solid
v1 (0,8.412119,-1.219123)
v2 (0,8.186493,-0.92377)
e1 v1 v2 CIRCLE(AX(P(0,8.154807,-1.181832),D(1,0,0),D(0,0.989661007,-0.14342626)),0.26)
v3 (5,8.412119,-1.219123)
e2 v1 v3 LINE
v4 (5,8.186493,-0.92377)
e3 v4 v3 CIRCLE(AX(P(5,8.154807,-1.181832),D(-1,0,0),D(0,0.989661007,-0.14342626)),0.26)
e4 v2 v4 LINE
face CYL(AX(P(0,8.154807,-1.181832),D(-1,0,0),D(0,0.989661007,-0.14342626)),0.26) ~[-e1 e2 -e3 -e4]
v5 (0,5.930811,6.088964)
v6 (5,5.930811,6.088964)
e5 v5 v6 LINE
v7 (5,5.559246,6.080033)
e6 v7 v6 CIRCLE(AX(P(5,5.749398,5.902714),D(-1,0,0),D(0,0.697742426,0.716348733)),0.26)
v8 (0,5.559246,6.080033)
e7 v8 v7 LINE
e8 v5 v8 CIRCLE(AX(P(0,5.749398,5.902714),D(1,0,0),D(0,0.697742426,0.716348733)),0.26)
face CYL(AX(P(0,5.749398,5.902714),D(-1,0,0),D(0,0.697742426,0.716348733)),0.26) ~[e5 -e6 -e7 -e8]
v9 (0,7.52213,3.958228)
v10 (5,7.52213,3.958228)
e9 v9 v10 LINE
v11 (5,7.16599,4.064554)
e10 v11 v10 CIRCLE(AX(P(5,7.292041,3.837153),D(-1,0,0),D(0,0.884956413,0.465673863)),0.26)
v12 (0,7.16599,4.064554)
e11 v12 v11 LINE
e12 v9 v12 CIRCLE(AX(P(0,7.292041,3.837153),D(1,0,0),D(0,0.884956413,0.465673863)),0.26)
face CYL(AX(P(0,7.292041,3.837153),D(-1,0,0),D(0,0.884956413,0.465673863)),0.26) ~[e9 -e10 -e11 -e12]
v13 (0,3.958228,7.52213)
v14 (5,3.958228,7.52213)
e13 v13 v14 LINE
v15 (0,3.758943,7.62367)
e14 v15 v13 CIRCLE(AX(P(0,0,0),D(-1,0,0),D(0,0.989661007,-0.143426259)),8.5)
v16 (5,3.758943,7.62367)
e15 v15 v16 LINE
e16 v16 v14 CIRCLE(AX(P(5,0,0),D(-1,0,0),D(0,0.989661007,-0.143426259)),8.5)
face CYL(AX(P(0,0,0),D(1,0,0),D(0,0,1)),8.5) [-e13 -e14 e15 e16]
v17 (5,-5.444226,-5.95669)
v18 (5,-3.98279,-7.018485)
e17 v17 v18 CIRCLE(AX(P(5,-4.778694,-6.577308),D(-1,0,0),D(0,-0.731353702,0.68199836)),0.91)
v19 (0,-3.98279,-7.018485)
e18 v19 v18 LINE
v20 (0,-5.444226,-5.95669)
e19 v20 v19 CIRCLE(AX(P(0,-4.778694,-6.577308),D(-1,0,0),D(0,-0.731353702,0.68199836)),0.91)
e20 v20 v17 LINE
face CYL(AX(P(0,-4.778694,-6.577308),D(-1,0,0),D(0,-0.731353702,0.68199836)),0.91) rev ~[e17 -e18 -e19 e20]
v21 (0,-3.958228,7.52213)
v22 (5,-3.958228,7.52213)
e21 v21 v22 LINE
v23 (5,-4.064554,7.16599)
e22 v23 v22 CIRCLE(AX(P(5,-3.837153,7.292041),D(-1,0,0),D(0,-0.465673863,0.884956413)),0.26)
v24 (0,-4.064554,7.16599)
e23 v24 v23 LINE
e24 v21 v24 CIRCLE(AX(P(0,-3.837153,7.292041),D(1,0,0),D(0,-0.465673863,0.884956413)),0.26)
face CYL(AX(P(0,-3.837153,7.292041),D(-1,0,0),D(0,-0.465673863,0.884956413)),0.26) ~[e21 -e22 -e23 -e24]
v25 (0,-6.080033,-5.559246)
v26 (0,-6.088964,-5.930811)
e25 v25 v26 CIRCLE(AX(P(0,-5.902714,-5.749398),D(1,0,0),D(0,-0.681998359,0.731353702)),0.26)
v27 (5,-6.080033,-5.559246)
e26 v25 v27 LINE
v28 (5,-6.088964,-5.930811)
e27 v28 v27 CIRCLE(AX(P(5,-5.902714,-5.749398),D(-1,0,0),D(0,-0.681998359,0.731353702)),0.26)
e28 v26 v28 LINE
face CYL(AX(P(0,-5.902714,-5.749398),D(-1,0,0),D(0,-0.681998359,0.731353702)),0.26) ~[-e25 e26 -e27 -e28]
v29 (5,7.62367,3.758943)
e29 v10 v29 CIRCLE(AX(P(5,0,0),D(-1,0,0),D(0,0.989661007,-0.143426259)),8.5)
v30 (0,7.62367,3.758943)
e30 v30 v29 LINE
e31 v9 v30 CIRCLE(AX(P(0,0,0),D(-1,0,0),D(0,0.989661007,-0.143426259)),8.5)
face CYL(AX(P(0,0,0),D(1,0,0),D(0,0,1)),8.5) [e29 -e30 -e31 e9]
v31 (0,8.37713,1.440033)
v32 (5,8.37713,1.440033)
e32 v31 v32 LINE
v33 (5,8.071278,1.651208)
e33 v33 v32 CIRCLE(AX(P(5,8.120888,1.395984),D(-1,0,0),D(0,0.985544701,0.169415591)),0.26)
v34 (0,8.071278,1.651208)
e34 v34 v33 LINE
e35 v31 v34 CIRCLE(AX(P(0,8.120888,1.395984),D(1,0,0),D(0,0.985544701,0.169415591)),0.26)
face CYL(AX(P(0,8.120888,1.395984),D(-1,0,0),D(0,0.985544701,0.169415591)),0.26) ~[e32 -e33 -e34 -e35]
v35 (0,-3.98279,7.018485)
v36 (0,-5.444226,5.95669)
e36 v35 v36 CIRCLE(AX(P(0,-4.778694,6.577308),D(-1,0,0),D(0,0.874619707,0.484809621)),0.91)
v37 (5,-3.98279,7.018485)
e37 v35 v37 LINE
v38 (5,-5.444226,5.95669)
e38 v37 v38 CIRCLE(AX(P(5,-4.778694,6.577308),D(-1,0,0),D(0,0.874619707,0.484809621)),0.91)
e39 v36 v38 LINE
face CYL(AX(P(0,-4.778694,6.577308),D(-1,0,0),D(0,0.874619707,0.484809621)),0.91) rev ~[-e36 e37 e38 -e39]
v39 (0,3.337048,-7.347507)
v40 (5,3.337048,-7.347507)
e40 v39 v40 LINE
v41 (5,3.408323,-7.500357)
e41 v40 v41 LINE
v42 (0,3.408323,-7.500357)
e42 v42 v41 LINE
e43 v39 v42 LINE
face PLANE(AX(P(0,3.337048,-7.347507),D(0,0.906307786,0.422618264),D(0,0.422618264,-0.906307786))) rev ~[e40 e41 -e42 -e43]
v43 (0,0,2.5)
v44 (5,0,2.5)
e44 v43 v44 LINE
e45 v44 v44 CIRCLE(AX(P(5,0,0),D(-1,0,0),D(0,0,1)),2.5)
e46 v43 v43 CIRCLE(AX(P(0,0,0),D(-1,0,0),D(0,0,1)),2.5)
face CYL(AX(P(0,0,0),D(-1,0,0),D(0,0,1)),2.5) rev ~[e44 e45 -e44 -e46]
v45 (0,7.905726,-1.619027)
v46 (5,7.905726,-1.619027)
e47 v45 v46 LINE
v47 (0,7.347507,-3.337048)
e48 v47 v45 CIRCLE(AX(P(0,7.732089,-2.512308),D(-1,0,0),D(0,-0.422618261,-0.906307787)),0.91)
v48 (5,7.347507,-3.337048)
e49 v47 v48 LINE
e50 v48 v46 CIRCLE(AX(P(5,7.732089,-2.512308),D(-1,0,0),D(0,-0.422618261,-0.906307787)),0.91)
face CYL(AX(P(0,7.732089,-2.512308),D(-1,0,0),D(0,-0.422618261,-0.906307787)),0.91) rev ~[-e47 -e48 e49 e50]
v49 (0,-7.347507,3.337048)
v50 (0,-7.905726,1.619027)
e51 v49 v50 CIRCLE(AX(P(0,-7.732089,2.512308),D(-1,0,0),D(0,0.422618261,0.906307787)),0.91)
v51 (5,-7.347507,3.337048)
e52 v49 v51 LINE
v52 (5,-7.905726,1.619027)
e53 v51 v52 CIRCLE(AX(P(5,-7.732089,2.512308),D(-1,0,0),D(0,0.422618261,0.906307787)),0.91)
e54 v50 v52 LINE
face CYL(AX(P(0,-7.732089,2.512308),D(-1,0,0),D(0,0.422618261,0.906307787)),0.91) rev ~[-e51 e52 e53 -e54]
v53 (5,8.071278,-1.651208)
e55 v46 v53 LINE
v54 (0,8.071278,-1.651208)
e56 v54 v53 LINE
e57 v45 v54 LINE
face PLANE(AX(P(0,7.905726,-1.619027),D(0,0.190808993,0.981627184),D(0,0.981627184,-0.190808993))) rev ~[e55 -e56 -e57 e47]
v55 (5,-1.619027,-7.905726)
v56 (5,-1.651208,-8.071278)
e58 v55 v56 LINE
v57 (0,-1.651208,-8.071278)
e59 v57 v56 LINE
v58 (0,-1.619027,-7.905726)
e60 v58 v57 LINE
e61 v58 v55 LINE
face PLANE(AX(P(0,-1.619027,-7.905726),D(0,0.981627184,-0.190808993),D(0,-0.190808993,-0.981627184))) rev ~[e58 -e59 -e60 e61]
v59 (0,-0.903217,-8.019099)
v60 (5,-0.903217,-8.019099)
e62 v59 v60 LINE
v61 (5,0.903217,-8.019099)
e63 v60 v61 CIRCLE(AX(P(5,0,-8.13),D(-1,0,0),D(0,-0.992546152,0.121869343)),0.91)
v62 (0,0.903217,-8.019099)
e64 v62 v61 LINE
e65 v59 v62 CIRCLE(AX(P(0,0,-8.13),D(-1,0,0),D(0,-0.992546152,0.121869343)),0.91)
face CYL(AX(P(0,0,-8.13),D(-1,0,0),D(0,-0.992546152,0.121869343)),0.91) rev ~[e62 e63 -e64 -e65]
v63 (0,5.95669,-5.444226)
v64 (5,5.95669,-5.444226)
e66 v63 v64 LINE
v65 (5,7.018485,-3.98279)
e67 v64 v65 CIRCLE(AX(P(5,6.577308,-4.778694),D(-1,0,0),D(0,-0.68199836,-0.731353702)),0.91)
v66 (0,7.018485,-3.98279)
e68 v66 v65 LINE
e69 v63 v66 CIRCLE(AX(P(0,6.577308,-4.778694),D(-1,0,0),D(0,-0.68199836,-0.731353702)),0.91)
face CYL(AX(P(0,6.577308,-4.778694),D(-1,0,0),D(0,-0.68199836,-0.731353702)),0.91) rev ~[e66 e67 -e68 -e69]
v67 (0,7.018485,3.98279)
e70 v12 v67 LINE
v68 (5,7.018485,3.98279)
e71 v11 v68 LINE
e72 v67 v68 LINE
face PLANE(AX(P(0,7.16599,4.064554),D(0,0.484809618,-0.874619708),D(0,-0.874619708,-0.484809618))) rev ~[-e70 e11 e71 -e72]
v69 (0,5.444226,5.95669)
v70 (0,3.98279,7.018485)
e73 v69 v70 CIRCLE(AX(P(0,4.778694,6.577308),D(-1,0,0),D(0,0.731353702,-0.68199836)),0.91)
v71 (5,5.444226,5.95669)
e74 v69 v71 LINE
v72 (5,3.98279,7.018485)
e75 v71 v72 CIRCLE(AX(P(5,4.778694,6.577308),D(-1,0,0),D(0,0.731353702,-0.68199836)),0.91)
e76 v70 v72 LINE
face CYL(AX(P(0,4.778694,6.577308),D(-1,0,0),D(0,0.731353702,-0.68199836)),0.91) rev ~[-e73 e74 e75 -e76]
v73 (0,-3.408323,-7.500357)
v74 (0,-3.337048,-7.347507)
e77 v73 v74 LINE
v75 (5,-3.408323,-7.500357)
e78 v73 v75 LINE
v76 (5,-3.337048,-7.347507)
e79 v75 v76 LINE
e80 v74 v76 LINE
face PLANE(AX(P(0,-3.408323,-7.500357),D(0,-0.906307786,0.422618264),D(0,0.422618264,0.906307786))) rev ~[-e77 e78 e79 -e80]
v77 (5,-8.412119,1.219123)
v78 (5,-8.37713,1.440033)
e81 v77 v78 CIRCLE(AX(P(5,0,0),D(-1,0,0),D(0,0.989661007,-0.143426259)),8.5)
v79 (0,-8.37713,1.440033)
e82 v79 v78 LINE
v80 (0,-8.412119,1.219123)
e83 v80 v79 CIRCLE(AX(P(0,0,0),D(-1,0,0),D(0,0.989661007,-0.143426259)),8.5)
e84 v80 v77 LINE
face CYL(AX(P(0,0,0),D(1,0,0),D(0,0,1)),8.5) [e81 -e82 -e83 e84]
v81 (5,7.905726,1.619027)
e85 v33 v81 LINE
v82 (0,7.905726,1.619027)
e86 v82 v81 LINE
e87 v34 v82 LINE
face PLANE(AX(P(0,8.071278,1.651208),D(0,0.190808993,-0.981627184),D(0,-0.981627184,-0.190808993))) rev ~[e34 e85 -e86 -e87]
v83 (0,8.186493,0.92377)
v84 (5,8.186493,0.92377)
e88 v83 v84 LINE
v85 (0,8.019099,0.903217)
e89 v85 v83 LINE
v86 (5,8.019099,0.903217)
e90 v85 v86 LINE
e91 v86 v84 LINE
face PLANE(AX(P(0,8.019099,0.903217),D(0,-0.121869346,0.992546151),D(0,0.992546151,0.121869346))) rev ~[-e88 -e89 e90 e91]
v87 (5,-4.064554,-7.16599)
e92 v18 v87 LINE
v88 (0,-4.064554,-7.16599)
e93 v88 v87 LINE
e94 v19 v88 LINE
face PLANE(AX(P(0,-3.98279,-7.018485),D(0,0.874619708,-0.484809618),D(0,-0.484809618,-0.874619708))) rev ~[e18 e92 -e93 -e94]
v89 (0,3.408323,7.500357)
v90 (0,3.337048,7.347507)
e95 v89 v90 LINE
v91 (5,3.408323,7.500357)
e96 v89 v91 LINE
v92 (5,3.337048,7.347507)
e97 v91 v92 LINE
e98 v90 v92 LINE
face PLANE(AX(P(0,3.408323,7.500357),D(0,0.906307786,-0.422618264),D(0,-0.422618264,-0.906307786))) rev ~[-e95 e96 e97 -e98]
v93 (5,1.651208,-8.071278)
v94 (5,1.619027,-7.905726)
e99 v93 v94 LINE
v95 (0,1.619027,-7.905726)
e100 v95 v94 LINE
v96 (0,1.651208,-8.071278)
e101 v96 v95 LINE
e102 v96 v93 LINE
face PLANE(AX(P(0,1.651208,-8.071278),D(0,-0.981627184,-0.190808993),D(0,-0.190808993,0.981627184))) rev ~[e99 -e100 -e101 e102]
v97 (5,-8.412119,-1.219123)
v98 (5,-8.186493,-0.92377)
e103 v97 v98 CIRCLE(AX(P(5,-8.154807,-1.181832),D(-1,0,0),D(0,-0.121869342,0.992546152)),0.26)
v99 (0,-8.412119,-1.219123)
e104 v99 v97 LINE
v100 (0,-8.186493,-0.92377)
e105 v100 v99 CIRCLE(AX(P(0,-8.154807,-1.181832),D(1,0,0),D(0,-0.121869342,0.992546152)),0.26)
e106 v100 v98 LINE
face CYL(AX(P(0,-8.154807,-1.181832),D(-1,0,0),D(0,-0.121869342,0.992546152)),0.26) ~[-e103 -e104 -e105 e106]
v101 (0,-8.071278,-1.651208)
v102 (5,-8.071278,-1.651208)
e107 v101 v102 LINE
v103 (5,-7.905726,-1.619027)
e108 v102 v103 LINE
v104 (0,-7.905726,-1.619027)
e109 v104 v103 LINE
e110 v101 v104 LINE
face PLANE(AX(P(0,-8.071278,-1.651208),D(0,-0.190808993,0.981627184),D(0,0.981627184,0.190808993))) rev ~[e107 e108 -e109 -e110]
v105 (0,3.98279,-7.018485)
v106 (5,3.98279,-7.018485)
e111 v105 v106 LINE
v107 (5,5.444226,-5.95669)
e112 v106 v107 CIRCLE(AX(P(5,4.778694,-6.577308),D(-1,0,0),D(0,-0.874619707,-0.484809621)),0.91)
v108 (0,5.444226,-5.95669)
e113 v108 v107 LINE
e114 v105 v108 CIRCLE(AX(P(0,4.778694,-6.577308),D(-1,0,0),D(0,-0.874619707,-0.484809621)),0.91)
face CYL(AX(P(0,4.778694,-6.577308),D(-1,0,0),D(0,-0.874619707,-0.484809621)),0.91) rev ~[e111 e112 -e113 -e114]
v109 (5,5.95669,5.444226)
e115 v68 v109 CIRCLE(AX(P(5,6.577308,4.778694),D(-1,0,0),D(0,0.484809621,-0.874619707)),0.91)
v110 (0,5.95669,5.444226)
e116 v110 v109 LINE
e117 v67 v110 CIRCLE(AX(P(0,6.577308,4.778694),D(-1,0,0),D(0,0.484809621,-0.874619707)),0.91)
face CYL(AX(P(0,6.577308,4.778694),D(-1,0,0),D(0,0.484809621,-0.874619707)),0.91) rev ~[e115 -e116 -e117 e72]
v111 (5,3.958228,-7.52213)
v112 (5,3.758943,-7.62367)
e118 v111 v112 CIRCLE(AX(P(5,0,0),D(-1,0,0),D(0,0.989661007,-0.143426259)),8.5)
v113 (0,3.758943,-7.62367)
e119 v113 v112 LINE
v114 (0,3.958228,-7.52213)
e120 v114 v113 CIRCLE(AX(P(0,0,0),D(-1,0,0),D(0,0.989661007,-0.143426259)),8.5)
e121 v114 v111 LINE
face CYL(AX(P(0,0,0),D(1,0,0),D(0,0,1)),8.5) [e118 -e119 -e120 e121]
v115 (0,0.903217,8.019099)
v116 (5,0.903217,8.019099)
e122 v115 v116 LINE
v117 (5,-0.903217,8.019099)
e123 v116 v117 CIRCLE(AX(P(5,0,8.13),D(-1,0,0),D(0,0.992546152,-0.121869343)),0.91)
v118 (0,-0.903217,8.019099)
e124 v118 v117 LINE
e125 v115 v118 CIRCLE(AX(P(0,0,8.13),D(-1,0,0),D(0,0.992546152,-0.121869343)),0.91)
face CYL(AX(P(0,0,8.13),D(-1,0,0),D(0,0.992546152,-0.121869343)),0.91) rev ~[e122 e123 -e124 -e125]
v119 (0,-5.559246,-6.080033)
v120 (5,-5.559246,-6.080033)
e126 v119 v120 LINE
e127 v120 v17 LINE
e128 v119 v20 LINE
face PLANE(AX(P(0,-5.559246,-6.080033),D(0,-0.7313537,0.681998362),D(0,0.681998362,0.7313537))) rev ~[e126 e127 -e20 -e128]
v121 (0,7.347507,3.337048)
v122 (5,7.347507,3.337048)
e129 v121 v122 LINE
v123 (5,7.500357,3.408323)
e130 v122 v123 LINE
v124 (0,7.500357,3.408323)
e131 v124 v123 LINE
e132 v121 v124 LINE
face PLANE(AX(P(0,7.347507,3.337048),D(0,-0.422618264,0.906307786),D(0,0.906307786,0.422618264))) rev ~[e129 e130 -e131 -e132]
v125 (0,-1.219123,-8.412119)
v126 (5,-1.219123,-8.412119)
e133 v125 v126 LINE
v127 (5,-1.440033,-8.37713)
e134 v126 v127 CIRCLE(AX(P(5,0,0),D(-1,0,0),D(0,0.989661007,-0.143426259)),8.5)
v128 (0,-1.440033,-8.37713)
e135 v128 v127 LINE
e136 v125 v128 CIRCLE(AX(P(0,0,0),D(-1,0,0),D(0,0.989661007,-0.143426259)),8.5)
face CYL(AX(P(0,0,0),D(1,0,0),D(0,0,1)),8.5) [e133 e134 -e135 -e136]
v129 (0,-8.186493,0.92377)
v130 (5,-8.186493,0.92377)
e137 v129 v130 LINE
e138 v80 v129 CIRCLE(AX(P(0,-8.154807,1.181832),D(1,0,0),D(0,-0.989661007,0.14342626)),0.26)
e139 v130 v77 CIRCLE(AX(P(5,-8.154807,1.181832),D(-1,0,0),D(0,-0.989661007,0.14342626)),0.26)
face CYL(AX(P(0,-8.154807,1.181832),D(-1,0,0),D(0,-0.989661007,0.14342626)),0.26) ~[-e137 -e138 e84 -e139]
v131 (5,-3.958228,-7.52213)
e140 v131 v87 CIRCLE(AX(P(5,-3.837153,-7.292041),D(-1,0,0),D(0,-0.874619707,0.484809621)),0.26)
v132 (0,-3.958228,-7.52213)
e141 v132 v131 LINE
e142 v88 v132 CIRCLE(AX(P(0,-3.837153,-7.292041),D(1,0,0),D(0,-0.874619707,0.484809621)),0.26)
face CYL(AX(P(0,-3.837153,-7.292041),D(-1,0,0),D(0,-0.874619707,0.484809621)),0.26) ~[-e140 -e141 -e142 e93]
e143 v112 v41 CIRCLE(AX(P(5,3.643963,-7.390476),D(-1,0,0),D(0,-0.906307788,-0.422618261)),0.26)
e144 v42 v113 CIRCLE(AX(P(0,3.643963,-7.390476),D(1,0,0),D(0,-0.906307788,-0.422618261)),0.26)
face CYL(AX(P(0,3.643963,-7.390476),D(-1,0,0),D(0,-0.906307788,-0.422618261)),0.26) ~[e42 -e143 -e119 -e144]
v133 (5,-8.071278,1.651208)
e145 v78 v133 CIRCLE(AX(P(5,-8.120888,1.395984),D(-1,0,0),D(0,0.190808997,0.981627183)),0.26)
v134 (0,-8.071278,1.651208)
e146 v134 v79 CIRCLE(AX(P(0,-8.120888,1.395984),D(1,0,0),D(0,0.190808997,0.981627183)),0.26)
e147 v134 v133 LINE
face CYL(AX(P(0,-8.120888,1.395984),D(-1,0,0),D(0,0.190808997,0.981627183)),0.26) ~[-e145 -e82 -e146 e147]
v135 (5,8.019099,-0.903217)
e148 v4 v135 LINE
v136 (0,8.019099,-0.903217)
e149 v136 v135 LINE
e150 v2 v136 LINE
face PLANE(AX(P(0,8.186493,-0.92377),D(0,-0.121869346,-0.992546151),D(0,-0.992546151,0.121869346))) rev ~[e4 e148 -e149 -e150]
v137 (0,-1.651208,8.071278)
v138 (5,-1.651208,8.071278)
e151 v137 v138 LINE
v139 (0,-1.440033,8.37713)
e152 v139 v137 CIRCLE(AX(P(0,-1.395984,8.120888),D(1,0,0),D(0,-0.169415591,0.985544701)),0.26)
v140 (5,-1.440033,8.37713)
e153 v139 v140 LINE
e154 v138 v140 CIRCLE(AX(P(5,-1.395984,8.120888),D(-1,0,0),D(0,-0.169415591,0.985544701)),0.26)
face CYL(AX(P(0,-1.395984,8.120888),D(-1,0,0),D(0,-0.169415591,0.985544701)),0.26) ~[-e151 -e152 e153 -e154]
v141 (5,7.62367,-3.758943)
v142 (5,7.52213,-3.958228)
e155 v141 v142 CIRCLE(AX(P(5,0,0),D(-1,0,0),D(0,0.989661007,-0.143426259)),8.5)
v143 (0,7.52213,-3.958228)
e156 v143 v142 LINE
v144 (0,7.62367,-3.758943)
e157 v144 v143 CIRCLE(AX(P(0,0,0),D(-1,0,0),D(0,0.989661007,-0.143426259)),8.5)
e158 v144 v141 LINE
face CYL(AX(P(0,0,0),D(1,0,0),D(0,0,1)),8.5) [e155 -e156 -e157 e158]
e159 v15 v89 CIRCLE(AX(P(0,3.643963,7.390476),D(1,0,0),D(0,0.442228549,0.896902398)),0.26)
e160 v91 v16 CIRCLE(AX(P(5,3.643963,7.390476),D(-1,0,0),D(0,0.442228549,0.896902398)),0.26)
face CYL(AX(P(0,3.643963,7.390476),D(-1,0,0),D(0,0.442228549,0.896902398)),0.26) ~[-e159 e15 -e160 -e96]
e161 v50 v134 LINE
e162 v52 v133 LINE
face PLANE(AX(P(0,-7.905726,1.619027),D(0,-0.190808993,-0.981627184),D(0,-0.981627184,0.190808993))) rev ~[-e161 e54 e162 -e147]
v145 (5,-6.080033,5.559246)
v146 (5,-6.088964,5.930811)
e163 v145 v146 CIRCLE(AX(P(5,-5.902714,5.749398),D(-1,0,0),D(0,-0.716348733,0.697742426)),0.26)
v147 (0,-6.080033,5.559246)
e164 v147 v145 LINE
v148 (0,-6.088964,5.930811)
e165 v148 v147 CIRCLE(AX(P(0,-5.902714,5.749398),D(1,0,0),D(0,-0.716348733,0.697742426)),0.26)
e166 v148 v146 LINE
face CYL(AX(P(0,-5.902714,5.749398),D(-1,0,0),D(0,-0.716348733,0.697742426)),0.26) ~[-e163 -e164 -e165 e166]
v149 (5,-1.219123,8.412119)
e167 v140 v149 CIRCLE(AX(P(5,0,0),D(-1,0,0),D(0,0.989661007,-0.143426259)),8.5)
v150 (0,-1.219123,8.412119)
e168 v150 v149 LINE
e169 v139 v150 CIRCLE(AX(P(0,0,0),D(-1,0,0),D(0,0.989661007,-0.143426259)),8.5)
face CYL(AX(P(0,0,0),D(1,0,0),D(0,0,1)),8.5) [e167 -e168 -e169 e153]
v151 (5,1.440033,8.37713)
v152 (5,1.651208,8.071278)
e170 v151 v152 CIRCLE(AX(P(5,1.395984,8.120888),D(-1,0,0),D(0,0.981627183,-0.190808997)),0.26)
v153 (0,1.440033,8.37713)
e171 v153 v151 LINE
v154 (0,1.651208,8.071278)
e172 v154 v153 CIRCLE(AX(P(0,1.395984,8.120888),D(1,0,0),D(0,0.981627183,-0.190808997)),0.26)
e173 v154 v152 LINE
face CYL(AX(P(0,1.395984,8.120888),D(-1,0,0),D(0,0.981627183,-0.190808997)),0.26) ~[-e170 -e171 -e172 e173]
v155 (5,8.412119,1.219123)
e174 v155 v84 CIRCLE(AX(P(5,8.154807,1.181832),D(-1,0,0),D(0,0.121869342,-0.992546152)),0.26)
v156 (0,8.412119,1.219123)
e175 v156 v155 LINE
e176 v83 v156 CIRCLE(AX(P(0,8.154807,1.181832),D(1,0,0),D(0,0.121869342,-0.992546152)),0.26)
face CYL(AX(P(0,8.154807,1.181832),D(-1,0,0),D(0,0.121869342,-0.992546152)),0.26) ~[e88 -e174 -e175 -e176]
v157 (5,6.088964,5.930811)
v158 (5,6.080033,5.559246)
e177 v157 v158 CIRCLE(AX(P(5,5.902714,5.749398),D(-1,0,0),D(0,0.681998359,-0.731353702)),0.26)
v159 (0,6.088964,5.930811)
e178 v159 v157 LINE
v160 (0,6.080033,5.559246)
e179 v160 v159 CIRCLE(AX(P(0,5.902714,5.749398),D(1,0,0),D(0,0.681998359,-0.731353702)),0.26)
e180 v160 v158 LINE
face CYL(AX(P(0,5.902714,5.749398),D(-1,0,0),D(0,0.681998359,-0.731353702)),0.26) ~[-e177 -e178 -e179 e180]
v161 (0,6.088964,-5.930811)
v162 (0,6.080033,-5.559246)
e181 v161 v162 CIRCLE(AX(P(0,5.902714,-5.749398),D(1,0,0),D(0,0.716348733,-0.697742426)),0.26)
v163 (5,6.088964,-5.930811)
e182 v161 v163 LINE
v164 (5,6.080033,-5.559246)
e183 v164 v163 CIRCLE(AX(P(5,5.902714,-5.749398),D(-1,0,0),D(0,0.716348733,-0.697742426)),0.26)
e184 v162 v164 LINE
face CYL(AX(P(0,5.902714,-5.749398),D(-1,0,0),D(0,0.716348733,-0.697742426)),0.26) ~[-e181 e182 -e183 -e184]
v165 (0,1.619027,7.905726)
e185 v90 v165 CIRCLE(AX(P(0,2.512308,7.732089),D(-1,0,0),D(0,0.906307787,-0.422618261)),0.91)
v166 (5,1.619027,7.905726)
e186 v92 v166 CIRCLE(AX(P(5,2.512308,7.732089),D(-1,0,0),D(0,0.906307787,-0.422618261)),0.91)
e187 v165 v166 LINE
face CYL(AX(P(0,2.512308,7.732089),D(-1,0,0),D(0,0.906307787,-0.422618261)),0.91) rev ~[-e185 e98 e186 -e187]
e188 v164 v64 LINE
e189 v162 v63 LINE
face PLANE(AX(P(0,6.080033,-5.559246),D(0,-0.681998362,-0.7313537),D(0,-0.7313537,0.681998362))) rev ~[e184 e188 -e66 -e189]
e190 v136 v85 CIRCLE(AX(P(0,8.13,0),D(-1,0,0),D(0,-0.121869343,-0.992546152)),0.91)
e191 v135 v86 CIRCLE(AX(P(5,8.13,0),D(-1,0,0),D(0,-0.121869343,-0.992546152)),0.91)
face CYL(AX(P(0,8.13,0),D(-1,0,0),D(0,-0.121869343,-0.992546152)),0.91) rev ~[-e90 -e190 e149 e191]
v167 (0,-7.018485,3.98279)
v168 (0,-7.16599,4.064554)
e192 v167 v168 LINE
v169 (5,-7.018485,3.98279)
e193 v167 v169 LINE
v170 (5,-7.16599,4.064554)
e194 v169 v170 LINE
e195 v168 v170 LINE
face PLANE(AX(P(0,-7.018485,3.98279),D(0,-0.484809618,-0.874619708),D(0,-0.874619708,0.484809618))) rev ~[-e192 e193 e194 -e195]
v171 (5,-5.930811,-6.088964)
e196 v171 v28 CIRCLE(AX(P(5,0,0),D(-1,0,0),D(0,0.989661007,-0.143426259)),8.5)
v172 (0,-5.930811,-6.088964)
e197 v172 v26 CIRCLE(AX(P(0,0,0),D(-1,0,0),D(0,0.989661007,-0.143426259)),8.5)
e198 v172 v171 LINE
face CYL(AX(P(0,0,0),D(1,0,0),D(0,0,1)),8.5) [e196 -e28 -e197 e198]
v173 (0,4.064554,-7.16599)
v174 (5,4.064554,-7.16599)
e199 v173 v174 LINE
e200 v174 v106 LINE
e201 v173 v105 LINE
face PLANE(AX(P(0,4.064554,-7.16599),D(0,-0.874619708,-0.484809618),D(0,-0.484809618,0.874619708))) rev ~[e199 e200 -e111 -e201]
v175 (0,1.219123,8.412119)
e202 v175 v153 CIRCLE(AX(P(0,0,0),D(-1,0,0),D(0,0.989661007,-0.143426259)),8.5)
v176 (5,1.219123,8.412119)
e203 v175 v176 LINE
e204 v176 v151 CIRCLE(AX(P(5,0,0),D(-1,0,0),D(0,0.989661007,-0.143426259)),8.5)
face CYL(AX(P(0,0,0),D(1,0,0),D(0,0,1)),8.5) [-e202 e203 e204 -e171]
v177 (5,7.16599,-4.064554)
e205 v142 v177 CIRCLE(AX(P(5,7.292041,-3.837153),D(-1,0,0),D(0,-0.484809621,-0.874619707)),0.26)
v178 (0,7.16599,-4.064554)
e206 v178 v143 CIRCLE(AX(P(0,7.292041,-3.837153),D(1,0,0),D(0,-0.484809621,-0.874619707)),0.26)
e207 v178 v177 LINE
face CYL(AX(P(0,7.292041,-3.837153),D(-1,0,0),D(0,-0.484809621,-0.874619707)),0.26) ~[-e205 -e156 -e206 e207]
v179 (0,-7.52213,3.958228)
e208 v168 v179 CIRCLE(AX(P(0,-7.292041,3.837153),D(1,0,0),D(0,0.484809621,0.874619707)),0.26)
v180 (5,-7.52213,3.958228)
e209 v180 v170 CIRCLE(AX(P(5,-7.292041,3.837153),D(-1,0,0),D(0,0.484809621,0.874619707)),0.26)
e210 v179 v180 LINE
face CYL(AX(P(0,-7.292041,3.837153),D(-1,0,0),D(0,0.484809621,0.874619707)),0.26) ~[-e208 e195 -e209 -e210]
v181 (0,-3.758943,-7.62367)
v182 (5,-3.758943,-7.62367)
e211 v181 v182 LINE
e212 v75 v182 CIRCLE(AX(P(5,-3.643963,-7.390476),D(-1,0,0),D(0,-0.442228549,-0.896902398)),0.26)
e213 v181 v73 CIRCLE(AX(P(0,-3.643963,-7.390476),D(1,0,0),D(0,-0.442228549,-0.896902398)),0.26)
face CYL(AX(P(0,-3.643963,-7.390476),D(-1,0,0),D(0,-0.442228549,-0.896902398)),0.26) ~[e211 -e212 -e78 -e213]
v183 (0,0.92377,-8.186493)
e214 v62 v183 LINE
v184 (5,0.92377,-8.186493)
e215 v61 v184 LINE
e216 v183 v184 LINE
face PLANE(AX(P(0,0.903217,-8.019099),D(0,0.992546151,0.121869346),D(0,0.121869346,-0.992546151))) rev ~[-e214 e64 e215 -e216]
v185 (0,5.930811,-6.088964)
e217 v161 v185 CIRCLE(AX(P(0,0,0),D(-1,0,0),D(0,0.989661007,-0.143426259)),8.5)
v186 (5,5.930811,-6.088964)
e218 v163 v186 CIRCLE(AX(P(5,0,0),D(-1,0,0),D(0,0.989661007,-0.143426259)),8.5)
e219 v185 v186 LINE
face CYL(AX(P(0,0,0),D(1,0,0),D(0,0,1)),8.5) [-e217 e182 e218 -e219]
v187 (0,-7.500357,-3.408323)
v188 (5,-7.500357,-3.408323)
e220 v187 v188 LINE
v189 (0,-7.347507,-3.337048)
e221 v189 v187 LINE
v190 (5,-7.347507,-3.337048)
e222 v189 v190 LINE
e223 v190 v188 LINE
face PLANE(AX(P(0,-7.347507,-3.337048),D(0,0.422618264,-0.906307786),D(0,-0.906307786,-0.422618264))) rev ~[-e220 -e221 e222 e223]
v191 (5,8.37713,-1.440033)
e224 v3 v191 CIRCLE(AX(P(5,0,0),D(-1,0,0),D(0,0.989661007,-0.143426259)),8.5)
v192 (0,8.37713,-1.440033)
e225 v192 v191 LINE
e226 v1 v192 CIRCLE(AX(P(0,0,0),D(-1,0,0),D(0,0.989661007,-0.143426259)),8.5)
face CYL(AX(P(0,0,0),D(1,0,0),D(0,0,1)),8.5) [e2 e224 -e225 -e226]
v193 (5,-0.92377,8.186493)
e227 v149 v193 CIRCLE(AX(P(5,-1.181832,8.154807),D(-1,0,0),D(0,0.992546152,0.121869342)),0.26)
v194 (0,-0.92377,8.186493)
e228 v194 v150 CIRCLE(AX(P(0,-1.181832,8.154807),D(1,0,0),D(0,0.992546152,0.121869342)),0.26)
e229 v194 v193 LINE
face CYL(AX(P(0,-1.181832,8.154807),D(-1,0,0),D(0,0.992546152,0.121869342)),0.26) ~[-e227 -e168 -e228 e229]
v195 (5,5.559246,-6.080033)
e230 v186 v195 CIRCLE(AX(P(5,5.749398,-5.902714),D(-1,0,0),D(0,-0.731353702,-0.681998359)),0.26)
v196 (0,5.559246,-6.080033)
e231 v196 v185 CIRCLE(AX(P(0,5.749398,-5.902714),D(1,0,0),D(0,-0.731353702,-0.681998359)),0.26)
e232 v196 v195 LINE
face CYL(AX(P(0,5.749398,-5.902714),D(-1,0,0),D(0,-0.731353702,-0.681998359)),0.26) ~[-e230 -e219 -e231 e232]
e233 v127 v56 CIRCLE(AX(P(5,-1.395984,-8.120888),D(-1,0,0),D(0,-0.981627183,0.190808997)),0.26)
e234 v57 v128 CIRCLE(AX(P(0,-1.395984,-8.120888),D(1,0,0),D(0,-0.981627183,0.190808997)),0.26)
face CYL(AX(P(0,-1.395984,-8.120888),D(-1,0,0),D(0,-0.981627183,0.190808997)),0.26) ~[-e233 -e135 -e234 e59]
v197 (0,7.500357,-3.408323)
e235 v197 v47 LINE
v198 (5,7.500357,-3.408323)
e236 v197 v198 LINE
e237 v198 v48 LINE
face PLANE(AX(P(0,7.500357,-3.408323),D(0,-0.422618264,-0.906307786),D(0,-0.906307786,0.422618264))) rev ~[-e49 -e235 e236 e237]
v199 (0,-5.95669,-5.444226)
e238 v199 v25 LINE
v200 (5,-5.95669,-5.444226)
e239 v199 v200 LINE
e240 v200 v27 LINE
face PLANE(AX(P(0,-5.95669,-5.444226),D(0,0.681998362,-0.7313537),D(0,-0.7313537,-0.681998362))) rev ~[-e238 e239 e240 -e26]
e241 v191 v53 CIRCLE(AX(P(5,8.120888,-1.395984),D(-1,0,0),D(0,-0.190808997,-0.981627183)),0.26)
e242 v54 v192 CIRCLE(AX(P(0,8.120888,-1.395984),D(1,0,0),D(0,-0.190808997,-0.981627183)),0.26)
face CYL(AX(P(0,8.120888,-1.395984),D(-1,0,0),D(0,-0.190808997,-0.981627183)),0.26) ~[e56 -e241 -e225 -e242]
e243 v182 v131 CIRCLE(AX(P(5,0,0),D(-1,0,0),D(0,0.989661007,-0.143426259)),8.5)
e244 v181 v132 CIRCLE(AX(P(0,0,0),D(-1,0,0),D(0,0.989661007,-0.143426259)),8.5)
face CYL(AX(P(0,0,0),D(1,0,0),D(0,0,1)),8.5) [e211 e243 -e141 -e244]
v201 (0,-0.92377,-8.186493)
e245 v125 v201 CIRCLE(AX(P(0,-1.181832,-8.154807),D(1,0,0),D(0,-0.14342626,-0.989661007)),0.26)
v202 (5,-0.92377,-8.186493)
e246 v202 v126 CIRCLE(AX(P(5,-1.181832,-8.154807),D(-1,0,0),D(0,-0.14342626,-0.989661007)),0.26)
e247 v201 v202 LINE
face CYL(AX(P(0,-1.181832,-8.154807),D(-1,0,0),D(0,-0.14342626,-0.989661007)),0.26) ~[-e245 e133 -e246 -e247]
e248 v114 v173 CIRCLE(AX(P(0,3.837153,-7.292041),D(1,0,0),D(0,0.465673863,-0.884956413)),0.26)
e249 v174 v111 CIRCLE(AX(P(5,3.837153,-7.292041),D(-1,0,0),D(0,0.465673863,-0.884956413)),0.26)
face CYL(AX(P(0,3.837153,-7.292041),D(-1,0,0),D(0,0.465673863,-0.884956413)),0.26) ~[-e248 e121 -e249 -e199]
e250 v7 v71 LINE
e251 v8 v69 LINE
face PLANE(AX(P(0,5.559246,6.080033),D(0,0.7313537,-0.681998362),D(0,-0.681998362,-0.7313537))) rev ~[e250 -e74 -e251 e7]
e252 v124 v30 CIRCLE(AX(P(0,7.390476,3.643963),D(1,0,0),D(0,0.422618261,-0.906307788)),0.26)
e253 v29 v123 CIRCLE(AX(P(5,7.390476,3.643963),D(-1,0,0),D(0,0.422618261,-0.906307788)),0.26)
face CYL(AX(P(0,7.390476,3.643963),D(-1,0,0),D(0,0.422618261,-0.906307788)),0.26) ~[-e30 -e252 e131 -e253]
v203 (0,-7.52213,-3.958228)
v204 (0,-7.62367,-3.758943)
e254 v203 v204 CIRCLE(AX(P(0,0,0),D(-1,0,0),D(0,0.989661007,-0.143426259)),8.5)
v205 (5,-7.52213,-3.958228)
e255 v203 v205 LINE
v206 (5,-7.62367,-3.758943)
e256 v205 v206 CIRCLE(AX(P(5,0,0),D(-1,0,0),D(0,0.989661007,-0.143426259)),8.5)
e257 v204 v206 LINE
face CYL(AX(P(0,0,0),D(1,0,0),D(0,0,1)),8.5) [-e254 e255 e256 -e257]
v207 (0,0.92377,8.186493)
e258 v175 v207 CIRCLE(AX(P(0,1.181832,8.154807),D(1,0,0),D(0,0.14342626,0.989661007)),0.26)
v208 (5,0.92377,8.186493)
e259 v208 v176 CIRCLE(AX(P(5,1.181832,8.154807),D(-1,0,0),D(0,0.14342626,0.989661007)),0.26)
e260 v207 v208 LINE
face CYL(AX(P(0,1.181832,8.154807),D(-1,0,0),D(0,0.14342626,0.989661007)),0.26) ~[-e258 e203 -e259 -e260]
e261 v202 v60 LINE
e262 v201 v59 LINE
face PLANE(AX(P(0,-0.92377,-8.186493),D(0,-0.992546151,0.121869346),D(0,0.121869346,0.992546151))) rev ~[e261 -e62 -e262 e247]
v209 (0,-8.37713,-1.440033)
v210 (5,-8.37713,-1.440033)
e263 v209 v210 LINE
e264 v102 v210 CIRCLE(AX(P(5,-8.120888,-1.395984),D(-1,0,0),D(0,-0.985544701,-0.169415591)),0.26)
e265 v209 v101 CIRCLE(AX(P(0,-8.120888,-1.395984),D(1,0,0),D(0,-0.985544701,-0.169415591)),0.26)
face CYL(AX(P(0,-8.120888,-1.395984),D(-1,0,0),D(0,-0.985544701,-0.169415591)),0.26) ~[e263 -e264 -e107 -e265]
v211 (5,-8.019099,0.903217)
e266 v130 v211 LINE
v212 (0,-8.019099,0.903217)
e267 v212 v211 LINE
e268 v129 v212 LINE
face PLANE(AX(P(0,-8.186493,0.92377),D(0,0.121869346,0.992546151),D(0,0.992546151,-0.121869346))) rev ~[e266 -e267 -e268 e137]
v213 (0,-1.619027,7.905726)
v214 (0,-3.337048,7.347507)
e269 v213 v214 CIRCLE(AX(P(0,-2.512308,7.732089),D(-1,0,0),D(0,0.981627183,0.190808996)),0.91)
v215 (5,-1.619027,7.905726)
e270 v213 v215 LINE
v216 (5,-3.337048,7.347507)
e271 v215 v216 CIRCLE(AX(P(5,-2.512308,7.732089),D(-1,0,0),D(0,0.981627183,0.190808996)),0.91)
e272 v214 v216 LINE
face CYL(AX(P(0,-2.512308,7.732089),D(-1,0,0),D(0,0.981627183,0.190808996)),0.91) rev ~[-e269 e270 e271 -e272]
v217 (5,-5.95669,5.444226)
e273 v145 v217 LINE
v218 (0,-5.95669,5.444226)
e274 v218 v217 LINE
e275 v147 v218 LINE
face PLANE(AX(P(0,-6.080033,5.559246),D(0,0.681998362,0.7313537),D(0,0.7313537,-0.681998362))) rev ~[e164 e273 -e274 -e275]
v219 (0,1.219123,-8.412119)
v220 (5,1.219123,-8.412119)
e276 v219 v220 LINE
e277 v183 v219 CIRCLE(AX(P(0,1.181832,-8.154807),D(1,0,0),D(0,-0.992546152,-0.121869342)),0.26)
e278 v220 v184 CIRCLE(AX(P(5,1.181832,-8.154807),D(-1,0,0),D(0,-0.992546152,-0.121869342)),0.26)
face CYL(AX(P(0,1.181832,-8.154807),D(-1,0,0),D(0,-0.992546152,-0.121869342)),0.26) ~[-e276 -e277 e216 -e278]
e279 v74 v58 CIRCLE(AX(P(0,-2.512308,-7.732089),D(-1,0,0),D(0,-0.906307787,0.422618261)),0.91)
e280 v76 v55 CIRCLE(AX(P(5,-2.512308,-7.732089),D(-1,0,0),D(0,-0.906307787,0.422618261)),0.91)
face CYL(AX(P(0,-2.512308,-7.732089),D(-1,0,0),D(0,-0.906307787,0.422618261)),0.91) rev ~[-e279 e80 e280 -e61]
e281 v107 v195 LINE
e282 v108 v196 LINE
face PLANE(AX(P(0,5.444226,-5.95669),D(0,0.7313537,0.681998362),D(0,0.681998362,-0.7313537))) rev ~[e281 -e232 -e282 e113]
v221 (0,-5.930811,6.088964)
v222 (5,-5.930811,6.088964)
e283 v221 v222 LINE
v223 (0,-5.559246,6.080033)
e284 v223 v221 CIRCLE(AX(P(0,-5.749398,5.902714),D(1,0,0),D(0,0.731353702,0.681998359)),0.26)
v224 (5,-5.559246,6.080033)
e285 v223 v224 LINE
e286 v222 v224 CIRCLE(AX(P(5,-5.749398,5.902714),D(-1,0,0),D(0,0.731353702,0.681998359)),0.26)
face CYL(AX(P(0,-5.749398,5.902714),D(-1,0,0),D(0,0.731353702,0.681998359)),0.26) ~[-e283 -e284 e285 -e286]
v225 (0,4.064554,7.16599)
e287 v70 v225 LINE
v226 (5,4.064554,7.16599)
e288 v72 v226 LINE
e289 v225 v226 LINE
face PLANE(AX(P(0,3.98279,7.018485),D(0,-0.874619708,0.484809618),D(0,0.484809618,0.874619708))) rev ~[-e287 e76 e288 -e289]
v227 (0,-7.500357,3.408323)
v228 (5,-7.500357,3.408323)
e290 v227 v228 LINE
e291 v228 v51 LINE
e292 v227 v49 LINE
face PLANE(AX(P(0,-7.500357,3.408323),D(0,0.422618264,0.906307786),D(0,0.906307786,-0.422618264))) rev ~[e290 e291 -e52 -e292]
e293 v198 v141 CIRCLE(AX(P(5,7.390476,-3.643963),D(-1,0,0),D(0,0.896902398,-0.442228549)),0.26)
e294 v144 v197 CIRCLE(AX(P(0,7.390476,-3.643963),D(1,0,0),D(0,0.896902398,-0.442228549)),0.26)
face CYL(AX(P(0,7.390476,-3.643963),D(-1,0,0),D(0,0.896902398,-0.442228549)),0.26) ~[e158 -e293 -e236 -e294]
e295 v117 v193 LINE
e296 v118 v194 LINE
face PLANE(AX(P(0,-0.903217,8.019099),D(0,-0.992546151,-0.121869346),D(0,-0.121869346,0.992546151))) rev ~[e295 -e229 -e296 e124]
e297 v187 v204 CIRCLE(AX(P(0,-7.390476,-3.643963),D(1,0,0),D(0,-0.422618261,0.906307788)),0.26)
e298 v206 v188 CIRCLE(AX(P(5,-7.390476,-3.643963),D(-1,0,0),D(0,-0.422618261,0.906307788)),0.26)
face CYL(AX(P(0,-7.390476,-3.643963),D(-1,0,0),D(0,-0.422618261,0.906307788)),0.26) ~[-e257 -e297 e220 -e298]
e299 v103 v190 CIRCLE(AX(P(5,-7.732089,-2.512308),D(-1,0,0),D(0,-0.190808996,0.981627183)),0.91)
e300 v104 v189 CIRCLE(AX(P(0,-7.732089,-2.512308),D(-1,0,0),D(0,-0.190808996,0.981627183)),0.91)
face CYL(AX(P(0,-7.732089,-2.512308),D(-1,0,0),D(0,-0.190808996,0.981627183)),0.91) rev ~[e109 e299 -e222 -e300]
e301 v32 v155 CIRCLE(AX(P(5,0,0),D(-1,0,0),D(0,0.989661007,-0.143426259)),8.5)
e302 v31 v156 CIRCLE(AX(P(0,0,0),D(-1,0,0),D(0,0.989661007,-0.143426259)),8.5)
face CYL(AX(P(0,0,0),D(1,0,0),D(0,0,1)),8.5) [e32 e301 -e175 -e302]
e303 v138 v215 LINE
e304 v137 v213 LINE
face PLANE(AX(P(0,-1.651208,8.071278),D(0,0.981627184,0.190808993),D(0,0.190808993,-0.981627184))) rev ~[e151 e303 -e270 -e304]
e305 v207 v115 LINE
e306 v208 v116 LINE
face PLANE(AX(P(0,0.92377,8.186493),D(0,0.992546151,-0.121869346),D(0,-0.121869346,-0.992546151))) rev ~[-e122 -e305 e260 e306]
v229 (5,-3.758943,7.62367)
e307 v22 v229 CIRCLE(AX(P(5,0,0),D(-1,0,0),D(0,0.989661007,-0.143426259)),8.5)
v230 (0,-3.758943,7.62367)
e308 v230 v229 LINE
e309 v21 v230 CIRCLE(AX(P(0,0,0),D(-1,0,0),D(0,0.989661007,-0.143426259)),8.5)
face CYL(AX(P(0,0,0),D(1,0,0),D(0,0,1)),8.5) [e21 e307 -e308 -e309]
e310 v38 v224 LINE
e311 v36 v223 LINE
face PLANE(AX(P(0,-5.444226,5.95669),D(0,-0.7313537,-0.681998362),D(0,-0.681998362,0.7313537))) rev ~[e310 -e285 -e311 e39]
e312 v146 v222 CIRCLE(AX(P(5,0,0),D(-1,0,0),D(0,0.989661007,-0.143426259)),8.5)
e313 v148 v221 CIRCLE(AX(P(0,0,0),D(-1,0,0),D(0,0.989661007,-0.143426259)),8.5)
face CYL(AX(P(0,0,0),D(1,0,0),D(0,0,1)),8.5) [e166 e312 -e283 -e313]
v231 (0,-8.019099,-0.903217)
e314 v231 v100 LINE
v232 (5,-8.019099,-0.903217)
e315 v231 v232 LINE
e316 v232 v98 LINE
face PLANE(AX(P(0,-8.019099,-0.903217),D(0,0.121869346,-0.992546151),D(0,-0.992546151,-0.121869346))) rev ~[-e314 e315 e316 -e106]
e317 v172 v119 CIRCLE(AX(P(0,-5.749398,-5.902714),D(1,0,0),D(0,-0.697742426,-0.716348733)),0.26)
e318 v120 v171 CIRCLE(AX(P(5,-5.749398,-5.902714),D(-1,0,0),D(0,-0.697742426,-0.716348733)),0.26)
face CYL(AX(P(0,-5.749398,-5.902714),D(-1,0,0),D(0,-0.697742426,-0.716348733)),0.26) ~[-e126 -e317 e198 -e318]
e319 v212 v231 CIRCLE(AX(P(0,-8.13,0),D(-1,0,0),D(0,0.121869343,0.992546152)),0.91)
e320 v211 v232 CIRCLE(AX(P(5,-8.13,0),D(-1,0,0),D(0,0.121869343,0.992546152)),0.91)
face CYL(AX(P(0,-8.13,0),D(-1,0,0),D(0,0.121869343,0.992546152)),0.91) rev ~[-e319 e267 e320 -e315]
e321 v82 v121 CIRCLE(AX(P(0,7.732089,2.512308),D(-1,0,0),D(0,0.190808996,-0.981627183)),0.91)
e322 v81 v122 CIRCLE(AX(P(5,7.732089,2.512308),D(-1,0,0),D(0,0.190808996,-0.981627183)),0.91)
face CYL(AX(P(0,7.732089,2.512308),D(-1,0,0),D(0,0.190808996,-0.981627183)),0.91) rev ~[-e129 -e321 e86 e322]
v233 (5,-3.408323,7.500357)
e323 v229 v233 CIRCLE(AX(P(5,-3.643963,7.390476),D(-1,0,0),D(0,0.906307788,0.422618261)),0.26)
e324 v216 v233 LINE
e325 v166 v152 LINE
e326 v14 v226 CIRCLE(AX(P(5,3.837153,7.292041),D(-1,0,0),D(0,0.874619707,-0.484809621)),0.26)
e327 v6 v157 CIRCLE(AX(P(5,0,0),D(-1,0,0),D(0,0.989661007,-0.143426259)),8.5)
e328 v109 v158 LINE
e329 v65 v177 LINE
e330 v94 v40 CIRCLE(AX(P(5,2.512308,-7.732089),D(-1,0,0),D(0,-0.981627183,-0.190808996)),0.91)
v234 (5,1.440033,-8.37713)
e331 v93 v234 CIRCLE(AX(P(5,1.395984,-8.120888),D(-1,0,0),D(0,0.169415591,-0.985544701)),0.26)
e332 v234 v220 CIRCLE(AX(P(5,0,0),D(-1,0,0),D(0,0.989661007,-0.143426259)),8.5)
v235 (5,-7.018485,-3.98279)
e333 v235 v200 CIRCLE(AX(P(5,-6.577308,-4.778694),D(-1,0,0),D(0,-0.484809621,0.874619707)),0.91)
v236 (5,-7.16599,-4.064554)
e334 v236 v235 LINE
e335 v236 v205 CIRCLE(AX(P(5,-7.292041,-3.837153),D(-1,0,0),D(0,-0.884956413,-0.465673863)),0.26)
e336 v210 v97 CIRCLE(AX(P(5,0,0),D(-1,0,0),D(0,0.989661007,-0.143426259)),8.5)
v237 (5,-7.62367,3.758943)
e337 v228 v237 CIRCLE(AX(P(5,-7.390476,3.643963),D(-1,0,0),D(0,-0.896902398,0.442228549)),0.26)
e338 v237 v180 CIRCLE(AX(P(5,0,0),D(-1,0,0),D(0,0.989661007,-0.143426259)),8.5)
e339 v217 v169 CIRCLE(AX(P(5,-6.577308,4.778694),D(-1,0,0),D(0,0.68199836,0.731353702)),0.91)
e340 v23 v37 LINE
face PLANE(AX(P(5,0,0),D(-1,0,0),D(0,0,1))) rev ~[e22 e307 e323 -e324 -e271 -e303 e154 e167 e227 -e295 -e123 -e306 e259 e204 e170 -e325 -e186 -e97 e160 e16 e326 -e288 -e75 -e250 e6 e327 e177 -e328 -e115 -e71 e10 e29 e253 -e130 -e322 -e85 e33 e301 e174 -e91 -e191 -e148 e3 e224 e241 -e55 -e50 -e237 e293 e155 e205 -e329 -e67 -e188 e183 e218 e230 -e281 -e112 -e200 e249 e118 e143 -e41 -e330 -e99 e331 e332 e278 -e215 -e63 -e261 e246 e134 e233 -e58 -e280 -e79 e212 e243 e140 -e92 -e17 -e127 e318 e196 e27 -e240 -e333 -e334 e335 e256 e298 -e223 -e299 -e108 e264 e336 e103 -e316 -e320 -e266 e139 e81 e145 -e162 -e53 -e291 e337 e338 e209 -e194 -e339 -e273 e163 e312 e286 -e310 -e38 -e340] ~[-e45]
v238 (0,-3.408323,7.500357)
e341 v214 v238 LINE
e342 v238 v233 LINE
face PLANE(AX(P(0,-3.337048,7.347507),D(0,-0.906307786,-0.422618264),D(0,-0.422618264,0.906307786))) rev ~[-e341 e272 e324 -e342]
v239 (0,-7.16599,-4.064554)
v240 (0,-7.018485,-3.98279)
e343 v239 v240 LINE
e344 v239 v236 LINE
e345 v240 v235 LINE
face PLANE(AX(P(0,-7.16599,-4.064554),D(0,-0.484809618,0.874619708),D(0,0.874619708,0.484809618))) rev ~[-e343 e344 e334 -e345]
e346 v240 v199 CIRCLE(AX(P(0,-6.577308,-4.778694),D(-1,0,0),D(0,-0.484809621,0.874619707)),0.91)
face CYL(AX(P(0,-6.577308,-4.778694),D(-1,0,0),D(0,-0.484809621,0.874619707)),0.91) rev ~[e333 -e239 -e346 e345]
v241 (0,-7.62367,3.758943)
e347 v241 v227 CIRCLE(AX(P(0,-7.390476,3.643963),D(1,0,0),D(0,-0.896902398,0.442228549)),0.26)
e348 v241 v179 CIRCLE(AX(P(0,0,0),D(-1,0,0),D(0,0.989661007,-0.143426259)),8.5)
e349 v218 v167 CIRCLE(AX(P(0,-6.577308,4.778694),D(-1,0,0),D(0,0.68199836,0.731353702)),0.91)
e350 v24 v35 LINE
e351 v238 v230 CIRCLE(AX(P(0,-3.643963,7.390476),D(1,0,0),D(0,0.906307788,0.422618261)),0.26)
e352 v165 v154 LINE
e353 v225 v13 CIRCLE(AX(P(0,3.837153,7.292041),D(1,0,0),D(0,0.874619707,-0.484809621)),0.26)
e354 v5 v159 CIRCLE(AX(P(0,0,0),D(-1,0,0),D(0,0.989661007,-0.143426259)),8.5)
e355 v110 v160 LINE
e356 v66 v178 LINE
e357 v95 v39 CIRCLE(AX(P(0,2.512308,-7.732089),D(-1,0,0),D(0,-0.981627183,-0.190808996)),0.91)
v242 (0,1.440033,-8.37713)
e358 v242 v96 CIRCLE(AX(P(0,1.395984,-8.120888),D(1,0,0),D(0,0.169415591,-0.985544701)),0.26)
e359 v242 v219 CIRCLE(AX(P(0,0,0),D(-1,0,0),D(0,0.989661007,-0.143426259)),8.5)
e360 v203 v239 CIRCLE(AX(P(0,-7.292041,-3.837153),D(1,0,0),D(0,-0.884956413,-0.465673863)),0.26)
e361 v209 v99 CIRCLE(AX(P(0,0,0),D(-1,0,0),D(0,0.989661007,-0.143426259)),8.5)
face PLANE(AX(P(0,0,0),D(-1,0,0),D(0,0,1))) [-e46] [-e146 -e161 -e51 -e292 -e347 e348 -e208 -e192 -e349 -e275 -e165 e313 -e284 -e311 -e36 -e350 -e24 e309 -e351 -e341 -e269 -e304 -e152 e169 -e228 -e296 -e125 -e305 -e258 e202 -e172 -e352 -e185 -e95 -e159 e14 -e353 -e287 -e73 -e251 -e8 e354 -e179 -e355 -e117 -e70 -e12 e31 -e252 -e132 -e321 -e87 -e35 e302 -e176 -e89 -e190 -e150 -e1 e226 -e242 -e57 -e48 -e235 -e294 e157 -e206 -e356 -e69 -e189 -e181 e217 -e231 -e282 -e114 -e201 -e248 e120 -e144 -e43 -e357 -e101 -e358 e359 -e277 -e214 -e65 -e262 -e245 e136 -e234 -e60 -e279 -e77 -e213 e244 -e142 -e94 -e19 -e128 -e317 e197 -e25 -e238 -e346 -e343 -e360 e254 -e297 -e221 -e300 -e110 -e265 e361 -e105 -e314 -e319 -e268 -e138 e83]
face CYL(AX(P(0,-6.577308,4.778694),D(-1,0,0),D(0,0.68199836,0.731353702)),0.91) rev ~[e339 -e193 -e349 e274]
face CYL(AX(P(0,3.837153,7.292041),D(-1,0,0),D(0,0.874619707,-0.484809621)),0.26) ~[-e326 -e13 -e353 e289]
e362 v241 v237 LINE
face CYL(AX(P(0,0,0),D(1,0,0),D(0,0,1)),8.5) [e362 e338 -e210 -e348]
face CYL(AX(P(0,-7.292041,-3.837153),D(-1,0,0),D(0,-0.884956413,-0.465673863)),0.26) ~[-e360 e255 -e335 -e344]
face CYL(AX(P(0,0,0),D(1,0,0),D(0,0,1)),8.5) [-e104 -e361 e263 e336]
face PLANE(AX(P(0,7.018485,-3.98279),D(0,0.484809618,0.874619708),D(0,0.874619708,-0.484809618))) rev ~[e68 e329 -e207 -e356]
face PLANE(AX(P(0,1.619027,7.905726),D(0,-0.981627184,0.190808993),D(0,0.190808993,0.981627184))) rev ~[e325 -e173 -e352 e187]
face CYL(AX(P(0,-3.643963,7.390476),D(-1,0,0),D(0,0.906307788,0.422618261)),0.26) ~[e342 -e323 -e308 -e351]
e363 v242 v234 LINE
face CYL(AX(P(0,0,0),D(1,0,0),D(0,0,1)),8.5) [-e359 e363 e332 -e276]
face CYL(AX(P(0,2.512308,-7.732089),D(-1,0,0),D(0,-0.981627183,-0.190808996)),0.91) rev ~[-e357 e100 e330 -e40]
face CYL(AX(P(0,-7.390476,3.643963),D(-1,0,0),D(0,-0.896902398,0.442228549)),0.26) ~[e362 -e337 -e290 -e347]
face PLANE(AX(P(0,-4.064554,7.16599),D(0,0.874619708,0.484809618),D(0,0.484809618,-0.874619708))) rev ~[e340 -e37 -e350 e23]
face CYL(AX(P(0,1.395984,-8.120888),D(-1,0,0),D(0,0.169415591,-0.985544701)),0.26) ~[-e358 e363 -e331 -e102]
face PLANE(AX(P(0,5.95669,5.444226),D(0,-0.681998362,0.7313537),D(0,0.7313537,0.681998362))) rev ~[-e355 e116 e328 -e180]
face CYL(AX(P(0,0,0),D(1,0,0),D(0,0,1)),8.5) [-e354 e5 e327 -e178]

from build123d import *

# Parameters (mm, degrees)
CHAMFER_1_SIZE           = 1
SKETCH_4_W               = 2
SKETCH_4_H               = 1
CUT_EXTRUDE_1_DEPTH      = 24.334523779
CUT_EXTRUDE_2_REACH      = 25.335
PATTERN_CIRCULAR_3_COUNT = 20
SKETCH_7_R               = 2.8338
CUT_EXTRUDE_3_DEPTH      = 24.27268664
SKETCH_8_R               = 3.6676
CUT_EXTRUDE_4_DEPTH      = 15
SKETCH_9_R               = 2.8338
SKETCH_9_R_2             = 2.5
EXTRUDE_1_DEPTH          = 5


with BuildPart() as part:
    # 草图1 → 旋转1 (revolve)
    with BuildSketch(Plane.XY, mode=Mode.PRIVATE) as revolve_1_sk:
        Polygon((0, 1.8338), (0, 8.5), (5, 8.5), (5, 3.6676), (20, 3.6676), (20, 1.8338), align=None)
    revolve(revolve_1_sk.sketch.rotate(Axis((0, 0, 0), (1, 0, 0)), 90), axis=Axis((0, 0, 0), (1, 0, 0)))

    # 倒角1
    chamfer_1_edges = [part.edges().sort_by_distance(p)[0] for p in [
        (20, 0, -1.8338),
        (0, 0, -1.8338),
    ]]
    chamfer(chamfer_1_edges, length=CHAMFER_1_SIZE)

    # 草图4 → 切除-拉伸1 (cut, through all)
    with BuildSketch(Plane.ZY):
        with Locations((0, 2.037147501)):
            Rectangle(SKETCH_4_W, SKETCH_4_H)
    extrude(amount=-CUT_EXTRUDE_1_DEPTH, mode=Mode.SUBTRACT)

    # 草图6 → 切除-拉伸2 (cut, up to next)
    with BuildSketch(Plane(origin=(0, 0, 0), x_dir=(0, 0, -1), z_dir=(1, 0, 0)), mode=Mode.PRIVATE) as cut_extrude_2_sk1:
        with BuildLine():
            Line((0.923770376, 8.186492725), (0.903216998, 8.019098898))
            ThreePointArc((0.903216998, 8.019098898), (0, 7.22), (-0.903216998, 8.019098898))
            Line((-0.903216998, 8.019098898), (-0.923770376, 8.186492725))
            ThreePointArc((-0.923770376, 8.186492725), (-1.023997868, 8.36141809), (-1.219123202, 8.412118557))
            ThreePointArc((-1.219123202, 8.412118557), (-1.347636542, 8.392489246), (-1.475834638, 8.370896733))
            Line((-1.475834638, 8.370896733), (-1.672482627, 9.972466076))
            ThreePointArc((-1.672482627, 9.972466076), (0, 10.111739601), (1.672482627, 9.972466076))
            Line((1.672482627, 9.972466076), (1.475834638, 8.370896733))
            ThreePointArc((1.475834638, 8.370896733), (1.347636542, 8.392489246), (1.219123202, 8.412118557))
            ThreePointArc((1.219123202, 8.412118557), (1.023997868, 8.36141809), (0.923770376, 8.186492725))
        make_face()
    cut_extrude_2_tool1 = extrude(cut_extrude_2_sk1.sketch, amount=CUT_EXTRUDE_2_REACH, mode=Mode.PRIVATE) & part.part
    cut_extrude_2 = cut_extrude_2_tool1.solids().sort_by_distance((0, 8.902144, 0))[0]
    add(cut_extrude_2, mode=Mode.SUBTRACT)

    # 阵列(圆周)3: 切除-拉伸2 ×20 about axis
    pattern_circular_3_axis = Axis((0, 0, 0), (1, 0, 0))
    for i in range(1, PATTERN_CIRCULAR_3_COUNT):
        add(cut_extrude_2.rotate(pattern_circular_3_axis, i * 360 / PATTERN_CIRCULAR_3_COUNT), mode=Mode.SUBTRACT)

    # 草图7 → 切除-拉伸3 (cut, through all)
    with BuildSketch(Plane.ZY):
        Circle(SKETCH_7_R)
    extrude(amount=-CUT_EXTRUDE_3_DEPTH, mode=Mode.SUBTRACT)

    # 草图8 → 切除-拉伸4 (cut)
    with BuildSketch(Plane(origin=(20, 0, 0), x_dir=(0, 0, -1), z_dir=(1, 0, 0))):
        Circle(SKETCH_8_R)
    extrude(amount=-CUT_EXTRUDE_4_DEPTH, mode=Mode.SUBTRACT)

    # 草图9 → 凸台-拉伸1 (add)
    with BuildSketch(Plane.ZY):
        Circle(SKETCH_9_R)
        Circle(SKETCH_9_R_2, mode=Mode.SUBTRACT)
    extrude(amount=-EXTRUDE_1_DEPTH)


solid = part.part
